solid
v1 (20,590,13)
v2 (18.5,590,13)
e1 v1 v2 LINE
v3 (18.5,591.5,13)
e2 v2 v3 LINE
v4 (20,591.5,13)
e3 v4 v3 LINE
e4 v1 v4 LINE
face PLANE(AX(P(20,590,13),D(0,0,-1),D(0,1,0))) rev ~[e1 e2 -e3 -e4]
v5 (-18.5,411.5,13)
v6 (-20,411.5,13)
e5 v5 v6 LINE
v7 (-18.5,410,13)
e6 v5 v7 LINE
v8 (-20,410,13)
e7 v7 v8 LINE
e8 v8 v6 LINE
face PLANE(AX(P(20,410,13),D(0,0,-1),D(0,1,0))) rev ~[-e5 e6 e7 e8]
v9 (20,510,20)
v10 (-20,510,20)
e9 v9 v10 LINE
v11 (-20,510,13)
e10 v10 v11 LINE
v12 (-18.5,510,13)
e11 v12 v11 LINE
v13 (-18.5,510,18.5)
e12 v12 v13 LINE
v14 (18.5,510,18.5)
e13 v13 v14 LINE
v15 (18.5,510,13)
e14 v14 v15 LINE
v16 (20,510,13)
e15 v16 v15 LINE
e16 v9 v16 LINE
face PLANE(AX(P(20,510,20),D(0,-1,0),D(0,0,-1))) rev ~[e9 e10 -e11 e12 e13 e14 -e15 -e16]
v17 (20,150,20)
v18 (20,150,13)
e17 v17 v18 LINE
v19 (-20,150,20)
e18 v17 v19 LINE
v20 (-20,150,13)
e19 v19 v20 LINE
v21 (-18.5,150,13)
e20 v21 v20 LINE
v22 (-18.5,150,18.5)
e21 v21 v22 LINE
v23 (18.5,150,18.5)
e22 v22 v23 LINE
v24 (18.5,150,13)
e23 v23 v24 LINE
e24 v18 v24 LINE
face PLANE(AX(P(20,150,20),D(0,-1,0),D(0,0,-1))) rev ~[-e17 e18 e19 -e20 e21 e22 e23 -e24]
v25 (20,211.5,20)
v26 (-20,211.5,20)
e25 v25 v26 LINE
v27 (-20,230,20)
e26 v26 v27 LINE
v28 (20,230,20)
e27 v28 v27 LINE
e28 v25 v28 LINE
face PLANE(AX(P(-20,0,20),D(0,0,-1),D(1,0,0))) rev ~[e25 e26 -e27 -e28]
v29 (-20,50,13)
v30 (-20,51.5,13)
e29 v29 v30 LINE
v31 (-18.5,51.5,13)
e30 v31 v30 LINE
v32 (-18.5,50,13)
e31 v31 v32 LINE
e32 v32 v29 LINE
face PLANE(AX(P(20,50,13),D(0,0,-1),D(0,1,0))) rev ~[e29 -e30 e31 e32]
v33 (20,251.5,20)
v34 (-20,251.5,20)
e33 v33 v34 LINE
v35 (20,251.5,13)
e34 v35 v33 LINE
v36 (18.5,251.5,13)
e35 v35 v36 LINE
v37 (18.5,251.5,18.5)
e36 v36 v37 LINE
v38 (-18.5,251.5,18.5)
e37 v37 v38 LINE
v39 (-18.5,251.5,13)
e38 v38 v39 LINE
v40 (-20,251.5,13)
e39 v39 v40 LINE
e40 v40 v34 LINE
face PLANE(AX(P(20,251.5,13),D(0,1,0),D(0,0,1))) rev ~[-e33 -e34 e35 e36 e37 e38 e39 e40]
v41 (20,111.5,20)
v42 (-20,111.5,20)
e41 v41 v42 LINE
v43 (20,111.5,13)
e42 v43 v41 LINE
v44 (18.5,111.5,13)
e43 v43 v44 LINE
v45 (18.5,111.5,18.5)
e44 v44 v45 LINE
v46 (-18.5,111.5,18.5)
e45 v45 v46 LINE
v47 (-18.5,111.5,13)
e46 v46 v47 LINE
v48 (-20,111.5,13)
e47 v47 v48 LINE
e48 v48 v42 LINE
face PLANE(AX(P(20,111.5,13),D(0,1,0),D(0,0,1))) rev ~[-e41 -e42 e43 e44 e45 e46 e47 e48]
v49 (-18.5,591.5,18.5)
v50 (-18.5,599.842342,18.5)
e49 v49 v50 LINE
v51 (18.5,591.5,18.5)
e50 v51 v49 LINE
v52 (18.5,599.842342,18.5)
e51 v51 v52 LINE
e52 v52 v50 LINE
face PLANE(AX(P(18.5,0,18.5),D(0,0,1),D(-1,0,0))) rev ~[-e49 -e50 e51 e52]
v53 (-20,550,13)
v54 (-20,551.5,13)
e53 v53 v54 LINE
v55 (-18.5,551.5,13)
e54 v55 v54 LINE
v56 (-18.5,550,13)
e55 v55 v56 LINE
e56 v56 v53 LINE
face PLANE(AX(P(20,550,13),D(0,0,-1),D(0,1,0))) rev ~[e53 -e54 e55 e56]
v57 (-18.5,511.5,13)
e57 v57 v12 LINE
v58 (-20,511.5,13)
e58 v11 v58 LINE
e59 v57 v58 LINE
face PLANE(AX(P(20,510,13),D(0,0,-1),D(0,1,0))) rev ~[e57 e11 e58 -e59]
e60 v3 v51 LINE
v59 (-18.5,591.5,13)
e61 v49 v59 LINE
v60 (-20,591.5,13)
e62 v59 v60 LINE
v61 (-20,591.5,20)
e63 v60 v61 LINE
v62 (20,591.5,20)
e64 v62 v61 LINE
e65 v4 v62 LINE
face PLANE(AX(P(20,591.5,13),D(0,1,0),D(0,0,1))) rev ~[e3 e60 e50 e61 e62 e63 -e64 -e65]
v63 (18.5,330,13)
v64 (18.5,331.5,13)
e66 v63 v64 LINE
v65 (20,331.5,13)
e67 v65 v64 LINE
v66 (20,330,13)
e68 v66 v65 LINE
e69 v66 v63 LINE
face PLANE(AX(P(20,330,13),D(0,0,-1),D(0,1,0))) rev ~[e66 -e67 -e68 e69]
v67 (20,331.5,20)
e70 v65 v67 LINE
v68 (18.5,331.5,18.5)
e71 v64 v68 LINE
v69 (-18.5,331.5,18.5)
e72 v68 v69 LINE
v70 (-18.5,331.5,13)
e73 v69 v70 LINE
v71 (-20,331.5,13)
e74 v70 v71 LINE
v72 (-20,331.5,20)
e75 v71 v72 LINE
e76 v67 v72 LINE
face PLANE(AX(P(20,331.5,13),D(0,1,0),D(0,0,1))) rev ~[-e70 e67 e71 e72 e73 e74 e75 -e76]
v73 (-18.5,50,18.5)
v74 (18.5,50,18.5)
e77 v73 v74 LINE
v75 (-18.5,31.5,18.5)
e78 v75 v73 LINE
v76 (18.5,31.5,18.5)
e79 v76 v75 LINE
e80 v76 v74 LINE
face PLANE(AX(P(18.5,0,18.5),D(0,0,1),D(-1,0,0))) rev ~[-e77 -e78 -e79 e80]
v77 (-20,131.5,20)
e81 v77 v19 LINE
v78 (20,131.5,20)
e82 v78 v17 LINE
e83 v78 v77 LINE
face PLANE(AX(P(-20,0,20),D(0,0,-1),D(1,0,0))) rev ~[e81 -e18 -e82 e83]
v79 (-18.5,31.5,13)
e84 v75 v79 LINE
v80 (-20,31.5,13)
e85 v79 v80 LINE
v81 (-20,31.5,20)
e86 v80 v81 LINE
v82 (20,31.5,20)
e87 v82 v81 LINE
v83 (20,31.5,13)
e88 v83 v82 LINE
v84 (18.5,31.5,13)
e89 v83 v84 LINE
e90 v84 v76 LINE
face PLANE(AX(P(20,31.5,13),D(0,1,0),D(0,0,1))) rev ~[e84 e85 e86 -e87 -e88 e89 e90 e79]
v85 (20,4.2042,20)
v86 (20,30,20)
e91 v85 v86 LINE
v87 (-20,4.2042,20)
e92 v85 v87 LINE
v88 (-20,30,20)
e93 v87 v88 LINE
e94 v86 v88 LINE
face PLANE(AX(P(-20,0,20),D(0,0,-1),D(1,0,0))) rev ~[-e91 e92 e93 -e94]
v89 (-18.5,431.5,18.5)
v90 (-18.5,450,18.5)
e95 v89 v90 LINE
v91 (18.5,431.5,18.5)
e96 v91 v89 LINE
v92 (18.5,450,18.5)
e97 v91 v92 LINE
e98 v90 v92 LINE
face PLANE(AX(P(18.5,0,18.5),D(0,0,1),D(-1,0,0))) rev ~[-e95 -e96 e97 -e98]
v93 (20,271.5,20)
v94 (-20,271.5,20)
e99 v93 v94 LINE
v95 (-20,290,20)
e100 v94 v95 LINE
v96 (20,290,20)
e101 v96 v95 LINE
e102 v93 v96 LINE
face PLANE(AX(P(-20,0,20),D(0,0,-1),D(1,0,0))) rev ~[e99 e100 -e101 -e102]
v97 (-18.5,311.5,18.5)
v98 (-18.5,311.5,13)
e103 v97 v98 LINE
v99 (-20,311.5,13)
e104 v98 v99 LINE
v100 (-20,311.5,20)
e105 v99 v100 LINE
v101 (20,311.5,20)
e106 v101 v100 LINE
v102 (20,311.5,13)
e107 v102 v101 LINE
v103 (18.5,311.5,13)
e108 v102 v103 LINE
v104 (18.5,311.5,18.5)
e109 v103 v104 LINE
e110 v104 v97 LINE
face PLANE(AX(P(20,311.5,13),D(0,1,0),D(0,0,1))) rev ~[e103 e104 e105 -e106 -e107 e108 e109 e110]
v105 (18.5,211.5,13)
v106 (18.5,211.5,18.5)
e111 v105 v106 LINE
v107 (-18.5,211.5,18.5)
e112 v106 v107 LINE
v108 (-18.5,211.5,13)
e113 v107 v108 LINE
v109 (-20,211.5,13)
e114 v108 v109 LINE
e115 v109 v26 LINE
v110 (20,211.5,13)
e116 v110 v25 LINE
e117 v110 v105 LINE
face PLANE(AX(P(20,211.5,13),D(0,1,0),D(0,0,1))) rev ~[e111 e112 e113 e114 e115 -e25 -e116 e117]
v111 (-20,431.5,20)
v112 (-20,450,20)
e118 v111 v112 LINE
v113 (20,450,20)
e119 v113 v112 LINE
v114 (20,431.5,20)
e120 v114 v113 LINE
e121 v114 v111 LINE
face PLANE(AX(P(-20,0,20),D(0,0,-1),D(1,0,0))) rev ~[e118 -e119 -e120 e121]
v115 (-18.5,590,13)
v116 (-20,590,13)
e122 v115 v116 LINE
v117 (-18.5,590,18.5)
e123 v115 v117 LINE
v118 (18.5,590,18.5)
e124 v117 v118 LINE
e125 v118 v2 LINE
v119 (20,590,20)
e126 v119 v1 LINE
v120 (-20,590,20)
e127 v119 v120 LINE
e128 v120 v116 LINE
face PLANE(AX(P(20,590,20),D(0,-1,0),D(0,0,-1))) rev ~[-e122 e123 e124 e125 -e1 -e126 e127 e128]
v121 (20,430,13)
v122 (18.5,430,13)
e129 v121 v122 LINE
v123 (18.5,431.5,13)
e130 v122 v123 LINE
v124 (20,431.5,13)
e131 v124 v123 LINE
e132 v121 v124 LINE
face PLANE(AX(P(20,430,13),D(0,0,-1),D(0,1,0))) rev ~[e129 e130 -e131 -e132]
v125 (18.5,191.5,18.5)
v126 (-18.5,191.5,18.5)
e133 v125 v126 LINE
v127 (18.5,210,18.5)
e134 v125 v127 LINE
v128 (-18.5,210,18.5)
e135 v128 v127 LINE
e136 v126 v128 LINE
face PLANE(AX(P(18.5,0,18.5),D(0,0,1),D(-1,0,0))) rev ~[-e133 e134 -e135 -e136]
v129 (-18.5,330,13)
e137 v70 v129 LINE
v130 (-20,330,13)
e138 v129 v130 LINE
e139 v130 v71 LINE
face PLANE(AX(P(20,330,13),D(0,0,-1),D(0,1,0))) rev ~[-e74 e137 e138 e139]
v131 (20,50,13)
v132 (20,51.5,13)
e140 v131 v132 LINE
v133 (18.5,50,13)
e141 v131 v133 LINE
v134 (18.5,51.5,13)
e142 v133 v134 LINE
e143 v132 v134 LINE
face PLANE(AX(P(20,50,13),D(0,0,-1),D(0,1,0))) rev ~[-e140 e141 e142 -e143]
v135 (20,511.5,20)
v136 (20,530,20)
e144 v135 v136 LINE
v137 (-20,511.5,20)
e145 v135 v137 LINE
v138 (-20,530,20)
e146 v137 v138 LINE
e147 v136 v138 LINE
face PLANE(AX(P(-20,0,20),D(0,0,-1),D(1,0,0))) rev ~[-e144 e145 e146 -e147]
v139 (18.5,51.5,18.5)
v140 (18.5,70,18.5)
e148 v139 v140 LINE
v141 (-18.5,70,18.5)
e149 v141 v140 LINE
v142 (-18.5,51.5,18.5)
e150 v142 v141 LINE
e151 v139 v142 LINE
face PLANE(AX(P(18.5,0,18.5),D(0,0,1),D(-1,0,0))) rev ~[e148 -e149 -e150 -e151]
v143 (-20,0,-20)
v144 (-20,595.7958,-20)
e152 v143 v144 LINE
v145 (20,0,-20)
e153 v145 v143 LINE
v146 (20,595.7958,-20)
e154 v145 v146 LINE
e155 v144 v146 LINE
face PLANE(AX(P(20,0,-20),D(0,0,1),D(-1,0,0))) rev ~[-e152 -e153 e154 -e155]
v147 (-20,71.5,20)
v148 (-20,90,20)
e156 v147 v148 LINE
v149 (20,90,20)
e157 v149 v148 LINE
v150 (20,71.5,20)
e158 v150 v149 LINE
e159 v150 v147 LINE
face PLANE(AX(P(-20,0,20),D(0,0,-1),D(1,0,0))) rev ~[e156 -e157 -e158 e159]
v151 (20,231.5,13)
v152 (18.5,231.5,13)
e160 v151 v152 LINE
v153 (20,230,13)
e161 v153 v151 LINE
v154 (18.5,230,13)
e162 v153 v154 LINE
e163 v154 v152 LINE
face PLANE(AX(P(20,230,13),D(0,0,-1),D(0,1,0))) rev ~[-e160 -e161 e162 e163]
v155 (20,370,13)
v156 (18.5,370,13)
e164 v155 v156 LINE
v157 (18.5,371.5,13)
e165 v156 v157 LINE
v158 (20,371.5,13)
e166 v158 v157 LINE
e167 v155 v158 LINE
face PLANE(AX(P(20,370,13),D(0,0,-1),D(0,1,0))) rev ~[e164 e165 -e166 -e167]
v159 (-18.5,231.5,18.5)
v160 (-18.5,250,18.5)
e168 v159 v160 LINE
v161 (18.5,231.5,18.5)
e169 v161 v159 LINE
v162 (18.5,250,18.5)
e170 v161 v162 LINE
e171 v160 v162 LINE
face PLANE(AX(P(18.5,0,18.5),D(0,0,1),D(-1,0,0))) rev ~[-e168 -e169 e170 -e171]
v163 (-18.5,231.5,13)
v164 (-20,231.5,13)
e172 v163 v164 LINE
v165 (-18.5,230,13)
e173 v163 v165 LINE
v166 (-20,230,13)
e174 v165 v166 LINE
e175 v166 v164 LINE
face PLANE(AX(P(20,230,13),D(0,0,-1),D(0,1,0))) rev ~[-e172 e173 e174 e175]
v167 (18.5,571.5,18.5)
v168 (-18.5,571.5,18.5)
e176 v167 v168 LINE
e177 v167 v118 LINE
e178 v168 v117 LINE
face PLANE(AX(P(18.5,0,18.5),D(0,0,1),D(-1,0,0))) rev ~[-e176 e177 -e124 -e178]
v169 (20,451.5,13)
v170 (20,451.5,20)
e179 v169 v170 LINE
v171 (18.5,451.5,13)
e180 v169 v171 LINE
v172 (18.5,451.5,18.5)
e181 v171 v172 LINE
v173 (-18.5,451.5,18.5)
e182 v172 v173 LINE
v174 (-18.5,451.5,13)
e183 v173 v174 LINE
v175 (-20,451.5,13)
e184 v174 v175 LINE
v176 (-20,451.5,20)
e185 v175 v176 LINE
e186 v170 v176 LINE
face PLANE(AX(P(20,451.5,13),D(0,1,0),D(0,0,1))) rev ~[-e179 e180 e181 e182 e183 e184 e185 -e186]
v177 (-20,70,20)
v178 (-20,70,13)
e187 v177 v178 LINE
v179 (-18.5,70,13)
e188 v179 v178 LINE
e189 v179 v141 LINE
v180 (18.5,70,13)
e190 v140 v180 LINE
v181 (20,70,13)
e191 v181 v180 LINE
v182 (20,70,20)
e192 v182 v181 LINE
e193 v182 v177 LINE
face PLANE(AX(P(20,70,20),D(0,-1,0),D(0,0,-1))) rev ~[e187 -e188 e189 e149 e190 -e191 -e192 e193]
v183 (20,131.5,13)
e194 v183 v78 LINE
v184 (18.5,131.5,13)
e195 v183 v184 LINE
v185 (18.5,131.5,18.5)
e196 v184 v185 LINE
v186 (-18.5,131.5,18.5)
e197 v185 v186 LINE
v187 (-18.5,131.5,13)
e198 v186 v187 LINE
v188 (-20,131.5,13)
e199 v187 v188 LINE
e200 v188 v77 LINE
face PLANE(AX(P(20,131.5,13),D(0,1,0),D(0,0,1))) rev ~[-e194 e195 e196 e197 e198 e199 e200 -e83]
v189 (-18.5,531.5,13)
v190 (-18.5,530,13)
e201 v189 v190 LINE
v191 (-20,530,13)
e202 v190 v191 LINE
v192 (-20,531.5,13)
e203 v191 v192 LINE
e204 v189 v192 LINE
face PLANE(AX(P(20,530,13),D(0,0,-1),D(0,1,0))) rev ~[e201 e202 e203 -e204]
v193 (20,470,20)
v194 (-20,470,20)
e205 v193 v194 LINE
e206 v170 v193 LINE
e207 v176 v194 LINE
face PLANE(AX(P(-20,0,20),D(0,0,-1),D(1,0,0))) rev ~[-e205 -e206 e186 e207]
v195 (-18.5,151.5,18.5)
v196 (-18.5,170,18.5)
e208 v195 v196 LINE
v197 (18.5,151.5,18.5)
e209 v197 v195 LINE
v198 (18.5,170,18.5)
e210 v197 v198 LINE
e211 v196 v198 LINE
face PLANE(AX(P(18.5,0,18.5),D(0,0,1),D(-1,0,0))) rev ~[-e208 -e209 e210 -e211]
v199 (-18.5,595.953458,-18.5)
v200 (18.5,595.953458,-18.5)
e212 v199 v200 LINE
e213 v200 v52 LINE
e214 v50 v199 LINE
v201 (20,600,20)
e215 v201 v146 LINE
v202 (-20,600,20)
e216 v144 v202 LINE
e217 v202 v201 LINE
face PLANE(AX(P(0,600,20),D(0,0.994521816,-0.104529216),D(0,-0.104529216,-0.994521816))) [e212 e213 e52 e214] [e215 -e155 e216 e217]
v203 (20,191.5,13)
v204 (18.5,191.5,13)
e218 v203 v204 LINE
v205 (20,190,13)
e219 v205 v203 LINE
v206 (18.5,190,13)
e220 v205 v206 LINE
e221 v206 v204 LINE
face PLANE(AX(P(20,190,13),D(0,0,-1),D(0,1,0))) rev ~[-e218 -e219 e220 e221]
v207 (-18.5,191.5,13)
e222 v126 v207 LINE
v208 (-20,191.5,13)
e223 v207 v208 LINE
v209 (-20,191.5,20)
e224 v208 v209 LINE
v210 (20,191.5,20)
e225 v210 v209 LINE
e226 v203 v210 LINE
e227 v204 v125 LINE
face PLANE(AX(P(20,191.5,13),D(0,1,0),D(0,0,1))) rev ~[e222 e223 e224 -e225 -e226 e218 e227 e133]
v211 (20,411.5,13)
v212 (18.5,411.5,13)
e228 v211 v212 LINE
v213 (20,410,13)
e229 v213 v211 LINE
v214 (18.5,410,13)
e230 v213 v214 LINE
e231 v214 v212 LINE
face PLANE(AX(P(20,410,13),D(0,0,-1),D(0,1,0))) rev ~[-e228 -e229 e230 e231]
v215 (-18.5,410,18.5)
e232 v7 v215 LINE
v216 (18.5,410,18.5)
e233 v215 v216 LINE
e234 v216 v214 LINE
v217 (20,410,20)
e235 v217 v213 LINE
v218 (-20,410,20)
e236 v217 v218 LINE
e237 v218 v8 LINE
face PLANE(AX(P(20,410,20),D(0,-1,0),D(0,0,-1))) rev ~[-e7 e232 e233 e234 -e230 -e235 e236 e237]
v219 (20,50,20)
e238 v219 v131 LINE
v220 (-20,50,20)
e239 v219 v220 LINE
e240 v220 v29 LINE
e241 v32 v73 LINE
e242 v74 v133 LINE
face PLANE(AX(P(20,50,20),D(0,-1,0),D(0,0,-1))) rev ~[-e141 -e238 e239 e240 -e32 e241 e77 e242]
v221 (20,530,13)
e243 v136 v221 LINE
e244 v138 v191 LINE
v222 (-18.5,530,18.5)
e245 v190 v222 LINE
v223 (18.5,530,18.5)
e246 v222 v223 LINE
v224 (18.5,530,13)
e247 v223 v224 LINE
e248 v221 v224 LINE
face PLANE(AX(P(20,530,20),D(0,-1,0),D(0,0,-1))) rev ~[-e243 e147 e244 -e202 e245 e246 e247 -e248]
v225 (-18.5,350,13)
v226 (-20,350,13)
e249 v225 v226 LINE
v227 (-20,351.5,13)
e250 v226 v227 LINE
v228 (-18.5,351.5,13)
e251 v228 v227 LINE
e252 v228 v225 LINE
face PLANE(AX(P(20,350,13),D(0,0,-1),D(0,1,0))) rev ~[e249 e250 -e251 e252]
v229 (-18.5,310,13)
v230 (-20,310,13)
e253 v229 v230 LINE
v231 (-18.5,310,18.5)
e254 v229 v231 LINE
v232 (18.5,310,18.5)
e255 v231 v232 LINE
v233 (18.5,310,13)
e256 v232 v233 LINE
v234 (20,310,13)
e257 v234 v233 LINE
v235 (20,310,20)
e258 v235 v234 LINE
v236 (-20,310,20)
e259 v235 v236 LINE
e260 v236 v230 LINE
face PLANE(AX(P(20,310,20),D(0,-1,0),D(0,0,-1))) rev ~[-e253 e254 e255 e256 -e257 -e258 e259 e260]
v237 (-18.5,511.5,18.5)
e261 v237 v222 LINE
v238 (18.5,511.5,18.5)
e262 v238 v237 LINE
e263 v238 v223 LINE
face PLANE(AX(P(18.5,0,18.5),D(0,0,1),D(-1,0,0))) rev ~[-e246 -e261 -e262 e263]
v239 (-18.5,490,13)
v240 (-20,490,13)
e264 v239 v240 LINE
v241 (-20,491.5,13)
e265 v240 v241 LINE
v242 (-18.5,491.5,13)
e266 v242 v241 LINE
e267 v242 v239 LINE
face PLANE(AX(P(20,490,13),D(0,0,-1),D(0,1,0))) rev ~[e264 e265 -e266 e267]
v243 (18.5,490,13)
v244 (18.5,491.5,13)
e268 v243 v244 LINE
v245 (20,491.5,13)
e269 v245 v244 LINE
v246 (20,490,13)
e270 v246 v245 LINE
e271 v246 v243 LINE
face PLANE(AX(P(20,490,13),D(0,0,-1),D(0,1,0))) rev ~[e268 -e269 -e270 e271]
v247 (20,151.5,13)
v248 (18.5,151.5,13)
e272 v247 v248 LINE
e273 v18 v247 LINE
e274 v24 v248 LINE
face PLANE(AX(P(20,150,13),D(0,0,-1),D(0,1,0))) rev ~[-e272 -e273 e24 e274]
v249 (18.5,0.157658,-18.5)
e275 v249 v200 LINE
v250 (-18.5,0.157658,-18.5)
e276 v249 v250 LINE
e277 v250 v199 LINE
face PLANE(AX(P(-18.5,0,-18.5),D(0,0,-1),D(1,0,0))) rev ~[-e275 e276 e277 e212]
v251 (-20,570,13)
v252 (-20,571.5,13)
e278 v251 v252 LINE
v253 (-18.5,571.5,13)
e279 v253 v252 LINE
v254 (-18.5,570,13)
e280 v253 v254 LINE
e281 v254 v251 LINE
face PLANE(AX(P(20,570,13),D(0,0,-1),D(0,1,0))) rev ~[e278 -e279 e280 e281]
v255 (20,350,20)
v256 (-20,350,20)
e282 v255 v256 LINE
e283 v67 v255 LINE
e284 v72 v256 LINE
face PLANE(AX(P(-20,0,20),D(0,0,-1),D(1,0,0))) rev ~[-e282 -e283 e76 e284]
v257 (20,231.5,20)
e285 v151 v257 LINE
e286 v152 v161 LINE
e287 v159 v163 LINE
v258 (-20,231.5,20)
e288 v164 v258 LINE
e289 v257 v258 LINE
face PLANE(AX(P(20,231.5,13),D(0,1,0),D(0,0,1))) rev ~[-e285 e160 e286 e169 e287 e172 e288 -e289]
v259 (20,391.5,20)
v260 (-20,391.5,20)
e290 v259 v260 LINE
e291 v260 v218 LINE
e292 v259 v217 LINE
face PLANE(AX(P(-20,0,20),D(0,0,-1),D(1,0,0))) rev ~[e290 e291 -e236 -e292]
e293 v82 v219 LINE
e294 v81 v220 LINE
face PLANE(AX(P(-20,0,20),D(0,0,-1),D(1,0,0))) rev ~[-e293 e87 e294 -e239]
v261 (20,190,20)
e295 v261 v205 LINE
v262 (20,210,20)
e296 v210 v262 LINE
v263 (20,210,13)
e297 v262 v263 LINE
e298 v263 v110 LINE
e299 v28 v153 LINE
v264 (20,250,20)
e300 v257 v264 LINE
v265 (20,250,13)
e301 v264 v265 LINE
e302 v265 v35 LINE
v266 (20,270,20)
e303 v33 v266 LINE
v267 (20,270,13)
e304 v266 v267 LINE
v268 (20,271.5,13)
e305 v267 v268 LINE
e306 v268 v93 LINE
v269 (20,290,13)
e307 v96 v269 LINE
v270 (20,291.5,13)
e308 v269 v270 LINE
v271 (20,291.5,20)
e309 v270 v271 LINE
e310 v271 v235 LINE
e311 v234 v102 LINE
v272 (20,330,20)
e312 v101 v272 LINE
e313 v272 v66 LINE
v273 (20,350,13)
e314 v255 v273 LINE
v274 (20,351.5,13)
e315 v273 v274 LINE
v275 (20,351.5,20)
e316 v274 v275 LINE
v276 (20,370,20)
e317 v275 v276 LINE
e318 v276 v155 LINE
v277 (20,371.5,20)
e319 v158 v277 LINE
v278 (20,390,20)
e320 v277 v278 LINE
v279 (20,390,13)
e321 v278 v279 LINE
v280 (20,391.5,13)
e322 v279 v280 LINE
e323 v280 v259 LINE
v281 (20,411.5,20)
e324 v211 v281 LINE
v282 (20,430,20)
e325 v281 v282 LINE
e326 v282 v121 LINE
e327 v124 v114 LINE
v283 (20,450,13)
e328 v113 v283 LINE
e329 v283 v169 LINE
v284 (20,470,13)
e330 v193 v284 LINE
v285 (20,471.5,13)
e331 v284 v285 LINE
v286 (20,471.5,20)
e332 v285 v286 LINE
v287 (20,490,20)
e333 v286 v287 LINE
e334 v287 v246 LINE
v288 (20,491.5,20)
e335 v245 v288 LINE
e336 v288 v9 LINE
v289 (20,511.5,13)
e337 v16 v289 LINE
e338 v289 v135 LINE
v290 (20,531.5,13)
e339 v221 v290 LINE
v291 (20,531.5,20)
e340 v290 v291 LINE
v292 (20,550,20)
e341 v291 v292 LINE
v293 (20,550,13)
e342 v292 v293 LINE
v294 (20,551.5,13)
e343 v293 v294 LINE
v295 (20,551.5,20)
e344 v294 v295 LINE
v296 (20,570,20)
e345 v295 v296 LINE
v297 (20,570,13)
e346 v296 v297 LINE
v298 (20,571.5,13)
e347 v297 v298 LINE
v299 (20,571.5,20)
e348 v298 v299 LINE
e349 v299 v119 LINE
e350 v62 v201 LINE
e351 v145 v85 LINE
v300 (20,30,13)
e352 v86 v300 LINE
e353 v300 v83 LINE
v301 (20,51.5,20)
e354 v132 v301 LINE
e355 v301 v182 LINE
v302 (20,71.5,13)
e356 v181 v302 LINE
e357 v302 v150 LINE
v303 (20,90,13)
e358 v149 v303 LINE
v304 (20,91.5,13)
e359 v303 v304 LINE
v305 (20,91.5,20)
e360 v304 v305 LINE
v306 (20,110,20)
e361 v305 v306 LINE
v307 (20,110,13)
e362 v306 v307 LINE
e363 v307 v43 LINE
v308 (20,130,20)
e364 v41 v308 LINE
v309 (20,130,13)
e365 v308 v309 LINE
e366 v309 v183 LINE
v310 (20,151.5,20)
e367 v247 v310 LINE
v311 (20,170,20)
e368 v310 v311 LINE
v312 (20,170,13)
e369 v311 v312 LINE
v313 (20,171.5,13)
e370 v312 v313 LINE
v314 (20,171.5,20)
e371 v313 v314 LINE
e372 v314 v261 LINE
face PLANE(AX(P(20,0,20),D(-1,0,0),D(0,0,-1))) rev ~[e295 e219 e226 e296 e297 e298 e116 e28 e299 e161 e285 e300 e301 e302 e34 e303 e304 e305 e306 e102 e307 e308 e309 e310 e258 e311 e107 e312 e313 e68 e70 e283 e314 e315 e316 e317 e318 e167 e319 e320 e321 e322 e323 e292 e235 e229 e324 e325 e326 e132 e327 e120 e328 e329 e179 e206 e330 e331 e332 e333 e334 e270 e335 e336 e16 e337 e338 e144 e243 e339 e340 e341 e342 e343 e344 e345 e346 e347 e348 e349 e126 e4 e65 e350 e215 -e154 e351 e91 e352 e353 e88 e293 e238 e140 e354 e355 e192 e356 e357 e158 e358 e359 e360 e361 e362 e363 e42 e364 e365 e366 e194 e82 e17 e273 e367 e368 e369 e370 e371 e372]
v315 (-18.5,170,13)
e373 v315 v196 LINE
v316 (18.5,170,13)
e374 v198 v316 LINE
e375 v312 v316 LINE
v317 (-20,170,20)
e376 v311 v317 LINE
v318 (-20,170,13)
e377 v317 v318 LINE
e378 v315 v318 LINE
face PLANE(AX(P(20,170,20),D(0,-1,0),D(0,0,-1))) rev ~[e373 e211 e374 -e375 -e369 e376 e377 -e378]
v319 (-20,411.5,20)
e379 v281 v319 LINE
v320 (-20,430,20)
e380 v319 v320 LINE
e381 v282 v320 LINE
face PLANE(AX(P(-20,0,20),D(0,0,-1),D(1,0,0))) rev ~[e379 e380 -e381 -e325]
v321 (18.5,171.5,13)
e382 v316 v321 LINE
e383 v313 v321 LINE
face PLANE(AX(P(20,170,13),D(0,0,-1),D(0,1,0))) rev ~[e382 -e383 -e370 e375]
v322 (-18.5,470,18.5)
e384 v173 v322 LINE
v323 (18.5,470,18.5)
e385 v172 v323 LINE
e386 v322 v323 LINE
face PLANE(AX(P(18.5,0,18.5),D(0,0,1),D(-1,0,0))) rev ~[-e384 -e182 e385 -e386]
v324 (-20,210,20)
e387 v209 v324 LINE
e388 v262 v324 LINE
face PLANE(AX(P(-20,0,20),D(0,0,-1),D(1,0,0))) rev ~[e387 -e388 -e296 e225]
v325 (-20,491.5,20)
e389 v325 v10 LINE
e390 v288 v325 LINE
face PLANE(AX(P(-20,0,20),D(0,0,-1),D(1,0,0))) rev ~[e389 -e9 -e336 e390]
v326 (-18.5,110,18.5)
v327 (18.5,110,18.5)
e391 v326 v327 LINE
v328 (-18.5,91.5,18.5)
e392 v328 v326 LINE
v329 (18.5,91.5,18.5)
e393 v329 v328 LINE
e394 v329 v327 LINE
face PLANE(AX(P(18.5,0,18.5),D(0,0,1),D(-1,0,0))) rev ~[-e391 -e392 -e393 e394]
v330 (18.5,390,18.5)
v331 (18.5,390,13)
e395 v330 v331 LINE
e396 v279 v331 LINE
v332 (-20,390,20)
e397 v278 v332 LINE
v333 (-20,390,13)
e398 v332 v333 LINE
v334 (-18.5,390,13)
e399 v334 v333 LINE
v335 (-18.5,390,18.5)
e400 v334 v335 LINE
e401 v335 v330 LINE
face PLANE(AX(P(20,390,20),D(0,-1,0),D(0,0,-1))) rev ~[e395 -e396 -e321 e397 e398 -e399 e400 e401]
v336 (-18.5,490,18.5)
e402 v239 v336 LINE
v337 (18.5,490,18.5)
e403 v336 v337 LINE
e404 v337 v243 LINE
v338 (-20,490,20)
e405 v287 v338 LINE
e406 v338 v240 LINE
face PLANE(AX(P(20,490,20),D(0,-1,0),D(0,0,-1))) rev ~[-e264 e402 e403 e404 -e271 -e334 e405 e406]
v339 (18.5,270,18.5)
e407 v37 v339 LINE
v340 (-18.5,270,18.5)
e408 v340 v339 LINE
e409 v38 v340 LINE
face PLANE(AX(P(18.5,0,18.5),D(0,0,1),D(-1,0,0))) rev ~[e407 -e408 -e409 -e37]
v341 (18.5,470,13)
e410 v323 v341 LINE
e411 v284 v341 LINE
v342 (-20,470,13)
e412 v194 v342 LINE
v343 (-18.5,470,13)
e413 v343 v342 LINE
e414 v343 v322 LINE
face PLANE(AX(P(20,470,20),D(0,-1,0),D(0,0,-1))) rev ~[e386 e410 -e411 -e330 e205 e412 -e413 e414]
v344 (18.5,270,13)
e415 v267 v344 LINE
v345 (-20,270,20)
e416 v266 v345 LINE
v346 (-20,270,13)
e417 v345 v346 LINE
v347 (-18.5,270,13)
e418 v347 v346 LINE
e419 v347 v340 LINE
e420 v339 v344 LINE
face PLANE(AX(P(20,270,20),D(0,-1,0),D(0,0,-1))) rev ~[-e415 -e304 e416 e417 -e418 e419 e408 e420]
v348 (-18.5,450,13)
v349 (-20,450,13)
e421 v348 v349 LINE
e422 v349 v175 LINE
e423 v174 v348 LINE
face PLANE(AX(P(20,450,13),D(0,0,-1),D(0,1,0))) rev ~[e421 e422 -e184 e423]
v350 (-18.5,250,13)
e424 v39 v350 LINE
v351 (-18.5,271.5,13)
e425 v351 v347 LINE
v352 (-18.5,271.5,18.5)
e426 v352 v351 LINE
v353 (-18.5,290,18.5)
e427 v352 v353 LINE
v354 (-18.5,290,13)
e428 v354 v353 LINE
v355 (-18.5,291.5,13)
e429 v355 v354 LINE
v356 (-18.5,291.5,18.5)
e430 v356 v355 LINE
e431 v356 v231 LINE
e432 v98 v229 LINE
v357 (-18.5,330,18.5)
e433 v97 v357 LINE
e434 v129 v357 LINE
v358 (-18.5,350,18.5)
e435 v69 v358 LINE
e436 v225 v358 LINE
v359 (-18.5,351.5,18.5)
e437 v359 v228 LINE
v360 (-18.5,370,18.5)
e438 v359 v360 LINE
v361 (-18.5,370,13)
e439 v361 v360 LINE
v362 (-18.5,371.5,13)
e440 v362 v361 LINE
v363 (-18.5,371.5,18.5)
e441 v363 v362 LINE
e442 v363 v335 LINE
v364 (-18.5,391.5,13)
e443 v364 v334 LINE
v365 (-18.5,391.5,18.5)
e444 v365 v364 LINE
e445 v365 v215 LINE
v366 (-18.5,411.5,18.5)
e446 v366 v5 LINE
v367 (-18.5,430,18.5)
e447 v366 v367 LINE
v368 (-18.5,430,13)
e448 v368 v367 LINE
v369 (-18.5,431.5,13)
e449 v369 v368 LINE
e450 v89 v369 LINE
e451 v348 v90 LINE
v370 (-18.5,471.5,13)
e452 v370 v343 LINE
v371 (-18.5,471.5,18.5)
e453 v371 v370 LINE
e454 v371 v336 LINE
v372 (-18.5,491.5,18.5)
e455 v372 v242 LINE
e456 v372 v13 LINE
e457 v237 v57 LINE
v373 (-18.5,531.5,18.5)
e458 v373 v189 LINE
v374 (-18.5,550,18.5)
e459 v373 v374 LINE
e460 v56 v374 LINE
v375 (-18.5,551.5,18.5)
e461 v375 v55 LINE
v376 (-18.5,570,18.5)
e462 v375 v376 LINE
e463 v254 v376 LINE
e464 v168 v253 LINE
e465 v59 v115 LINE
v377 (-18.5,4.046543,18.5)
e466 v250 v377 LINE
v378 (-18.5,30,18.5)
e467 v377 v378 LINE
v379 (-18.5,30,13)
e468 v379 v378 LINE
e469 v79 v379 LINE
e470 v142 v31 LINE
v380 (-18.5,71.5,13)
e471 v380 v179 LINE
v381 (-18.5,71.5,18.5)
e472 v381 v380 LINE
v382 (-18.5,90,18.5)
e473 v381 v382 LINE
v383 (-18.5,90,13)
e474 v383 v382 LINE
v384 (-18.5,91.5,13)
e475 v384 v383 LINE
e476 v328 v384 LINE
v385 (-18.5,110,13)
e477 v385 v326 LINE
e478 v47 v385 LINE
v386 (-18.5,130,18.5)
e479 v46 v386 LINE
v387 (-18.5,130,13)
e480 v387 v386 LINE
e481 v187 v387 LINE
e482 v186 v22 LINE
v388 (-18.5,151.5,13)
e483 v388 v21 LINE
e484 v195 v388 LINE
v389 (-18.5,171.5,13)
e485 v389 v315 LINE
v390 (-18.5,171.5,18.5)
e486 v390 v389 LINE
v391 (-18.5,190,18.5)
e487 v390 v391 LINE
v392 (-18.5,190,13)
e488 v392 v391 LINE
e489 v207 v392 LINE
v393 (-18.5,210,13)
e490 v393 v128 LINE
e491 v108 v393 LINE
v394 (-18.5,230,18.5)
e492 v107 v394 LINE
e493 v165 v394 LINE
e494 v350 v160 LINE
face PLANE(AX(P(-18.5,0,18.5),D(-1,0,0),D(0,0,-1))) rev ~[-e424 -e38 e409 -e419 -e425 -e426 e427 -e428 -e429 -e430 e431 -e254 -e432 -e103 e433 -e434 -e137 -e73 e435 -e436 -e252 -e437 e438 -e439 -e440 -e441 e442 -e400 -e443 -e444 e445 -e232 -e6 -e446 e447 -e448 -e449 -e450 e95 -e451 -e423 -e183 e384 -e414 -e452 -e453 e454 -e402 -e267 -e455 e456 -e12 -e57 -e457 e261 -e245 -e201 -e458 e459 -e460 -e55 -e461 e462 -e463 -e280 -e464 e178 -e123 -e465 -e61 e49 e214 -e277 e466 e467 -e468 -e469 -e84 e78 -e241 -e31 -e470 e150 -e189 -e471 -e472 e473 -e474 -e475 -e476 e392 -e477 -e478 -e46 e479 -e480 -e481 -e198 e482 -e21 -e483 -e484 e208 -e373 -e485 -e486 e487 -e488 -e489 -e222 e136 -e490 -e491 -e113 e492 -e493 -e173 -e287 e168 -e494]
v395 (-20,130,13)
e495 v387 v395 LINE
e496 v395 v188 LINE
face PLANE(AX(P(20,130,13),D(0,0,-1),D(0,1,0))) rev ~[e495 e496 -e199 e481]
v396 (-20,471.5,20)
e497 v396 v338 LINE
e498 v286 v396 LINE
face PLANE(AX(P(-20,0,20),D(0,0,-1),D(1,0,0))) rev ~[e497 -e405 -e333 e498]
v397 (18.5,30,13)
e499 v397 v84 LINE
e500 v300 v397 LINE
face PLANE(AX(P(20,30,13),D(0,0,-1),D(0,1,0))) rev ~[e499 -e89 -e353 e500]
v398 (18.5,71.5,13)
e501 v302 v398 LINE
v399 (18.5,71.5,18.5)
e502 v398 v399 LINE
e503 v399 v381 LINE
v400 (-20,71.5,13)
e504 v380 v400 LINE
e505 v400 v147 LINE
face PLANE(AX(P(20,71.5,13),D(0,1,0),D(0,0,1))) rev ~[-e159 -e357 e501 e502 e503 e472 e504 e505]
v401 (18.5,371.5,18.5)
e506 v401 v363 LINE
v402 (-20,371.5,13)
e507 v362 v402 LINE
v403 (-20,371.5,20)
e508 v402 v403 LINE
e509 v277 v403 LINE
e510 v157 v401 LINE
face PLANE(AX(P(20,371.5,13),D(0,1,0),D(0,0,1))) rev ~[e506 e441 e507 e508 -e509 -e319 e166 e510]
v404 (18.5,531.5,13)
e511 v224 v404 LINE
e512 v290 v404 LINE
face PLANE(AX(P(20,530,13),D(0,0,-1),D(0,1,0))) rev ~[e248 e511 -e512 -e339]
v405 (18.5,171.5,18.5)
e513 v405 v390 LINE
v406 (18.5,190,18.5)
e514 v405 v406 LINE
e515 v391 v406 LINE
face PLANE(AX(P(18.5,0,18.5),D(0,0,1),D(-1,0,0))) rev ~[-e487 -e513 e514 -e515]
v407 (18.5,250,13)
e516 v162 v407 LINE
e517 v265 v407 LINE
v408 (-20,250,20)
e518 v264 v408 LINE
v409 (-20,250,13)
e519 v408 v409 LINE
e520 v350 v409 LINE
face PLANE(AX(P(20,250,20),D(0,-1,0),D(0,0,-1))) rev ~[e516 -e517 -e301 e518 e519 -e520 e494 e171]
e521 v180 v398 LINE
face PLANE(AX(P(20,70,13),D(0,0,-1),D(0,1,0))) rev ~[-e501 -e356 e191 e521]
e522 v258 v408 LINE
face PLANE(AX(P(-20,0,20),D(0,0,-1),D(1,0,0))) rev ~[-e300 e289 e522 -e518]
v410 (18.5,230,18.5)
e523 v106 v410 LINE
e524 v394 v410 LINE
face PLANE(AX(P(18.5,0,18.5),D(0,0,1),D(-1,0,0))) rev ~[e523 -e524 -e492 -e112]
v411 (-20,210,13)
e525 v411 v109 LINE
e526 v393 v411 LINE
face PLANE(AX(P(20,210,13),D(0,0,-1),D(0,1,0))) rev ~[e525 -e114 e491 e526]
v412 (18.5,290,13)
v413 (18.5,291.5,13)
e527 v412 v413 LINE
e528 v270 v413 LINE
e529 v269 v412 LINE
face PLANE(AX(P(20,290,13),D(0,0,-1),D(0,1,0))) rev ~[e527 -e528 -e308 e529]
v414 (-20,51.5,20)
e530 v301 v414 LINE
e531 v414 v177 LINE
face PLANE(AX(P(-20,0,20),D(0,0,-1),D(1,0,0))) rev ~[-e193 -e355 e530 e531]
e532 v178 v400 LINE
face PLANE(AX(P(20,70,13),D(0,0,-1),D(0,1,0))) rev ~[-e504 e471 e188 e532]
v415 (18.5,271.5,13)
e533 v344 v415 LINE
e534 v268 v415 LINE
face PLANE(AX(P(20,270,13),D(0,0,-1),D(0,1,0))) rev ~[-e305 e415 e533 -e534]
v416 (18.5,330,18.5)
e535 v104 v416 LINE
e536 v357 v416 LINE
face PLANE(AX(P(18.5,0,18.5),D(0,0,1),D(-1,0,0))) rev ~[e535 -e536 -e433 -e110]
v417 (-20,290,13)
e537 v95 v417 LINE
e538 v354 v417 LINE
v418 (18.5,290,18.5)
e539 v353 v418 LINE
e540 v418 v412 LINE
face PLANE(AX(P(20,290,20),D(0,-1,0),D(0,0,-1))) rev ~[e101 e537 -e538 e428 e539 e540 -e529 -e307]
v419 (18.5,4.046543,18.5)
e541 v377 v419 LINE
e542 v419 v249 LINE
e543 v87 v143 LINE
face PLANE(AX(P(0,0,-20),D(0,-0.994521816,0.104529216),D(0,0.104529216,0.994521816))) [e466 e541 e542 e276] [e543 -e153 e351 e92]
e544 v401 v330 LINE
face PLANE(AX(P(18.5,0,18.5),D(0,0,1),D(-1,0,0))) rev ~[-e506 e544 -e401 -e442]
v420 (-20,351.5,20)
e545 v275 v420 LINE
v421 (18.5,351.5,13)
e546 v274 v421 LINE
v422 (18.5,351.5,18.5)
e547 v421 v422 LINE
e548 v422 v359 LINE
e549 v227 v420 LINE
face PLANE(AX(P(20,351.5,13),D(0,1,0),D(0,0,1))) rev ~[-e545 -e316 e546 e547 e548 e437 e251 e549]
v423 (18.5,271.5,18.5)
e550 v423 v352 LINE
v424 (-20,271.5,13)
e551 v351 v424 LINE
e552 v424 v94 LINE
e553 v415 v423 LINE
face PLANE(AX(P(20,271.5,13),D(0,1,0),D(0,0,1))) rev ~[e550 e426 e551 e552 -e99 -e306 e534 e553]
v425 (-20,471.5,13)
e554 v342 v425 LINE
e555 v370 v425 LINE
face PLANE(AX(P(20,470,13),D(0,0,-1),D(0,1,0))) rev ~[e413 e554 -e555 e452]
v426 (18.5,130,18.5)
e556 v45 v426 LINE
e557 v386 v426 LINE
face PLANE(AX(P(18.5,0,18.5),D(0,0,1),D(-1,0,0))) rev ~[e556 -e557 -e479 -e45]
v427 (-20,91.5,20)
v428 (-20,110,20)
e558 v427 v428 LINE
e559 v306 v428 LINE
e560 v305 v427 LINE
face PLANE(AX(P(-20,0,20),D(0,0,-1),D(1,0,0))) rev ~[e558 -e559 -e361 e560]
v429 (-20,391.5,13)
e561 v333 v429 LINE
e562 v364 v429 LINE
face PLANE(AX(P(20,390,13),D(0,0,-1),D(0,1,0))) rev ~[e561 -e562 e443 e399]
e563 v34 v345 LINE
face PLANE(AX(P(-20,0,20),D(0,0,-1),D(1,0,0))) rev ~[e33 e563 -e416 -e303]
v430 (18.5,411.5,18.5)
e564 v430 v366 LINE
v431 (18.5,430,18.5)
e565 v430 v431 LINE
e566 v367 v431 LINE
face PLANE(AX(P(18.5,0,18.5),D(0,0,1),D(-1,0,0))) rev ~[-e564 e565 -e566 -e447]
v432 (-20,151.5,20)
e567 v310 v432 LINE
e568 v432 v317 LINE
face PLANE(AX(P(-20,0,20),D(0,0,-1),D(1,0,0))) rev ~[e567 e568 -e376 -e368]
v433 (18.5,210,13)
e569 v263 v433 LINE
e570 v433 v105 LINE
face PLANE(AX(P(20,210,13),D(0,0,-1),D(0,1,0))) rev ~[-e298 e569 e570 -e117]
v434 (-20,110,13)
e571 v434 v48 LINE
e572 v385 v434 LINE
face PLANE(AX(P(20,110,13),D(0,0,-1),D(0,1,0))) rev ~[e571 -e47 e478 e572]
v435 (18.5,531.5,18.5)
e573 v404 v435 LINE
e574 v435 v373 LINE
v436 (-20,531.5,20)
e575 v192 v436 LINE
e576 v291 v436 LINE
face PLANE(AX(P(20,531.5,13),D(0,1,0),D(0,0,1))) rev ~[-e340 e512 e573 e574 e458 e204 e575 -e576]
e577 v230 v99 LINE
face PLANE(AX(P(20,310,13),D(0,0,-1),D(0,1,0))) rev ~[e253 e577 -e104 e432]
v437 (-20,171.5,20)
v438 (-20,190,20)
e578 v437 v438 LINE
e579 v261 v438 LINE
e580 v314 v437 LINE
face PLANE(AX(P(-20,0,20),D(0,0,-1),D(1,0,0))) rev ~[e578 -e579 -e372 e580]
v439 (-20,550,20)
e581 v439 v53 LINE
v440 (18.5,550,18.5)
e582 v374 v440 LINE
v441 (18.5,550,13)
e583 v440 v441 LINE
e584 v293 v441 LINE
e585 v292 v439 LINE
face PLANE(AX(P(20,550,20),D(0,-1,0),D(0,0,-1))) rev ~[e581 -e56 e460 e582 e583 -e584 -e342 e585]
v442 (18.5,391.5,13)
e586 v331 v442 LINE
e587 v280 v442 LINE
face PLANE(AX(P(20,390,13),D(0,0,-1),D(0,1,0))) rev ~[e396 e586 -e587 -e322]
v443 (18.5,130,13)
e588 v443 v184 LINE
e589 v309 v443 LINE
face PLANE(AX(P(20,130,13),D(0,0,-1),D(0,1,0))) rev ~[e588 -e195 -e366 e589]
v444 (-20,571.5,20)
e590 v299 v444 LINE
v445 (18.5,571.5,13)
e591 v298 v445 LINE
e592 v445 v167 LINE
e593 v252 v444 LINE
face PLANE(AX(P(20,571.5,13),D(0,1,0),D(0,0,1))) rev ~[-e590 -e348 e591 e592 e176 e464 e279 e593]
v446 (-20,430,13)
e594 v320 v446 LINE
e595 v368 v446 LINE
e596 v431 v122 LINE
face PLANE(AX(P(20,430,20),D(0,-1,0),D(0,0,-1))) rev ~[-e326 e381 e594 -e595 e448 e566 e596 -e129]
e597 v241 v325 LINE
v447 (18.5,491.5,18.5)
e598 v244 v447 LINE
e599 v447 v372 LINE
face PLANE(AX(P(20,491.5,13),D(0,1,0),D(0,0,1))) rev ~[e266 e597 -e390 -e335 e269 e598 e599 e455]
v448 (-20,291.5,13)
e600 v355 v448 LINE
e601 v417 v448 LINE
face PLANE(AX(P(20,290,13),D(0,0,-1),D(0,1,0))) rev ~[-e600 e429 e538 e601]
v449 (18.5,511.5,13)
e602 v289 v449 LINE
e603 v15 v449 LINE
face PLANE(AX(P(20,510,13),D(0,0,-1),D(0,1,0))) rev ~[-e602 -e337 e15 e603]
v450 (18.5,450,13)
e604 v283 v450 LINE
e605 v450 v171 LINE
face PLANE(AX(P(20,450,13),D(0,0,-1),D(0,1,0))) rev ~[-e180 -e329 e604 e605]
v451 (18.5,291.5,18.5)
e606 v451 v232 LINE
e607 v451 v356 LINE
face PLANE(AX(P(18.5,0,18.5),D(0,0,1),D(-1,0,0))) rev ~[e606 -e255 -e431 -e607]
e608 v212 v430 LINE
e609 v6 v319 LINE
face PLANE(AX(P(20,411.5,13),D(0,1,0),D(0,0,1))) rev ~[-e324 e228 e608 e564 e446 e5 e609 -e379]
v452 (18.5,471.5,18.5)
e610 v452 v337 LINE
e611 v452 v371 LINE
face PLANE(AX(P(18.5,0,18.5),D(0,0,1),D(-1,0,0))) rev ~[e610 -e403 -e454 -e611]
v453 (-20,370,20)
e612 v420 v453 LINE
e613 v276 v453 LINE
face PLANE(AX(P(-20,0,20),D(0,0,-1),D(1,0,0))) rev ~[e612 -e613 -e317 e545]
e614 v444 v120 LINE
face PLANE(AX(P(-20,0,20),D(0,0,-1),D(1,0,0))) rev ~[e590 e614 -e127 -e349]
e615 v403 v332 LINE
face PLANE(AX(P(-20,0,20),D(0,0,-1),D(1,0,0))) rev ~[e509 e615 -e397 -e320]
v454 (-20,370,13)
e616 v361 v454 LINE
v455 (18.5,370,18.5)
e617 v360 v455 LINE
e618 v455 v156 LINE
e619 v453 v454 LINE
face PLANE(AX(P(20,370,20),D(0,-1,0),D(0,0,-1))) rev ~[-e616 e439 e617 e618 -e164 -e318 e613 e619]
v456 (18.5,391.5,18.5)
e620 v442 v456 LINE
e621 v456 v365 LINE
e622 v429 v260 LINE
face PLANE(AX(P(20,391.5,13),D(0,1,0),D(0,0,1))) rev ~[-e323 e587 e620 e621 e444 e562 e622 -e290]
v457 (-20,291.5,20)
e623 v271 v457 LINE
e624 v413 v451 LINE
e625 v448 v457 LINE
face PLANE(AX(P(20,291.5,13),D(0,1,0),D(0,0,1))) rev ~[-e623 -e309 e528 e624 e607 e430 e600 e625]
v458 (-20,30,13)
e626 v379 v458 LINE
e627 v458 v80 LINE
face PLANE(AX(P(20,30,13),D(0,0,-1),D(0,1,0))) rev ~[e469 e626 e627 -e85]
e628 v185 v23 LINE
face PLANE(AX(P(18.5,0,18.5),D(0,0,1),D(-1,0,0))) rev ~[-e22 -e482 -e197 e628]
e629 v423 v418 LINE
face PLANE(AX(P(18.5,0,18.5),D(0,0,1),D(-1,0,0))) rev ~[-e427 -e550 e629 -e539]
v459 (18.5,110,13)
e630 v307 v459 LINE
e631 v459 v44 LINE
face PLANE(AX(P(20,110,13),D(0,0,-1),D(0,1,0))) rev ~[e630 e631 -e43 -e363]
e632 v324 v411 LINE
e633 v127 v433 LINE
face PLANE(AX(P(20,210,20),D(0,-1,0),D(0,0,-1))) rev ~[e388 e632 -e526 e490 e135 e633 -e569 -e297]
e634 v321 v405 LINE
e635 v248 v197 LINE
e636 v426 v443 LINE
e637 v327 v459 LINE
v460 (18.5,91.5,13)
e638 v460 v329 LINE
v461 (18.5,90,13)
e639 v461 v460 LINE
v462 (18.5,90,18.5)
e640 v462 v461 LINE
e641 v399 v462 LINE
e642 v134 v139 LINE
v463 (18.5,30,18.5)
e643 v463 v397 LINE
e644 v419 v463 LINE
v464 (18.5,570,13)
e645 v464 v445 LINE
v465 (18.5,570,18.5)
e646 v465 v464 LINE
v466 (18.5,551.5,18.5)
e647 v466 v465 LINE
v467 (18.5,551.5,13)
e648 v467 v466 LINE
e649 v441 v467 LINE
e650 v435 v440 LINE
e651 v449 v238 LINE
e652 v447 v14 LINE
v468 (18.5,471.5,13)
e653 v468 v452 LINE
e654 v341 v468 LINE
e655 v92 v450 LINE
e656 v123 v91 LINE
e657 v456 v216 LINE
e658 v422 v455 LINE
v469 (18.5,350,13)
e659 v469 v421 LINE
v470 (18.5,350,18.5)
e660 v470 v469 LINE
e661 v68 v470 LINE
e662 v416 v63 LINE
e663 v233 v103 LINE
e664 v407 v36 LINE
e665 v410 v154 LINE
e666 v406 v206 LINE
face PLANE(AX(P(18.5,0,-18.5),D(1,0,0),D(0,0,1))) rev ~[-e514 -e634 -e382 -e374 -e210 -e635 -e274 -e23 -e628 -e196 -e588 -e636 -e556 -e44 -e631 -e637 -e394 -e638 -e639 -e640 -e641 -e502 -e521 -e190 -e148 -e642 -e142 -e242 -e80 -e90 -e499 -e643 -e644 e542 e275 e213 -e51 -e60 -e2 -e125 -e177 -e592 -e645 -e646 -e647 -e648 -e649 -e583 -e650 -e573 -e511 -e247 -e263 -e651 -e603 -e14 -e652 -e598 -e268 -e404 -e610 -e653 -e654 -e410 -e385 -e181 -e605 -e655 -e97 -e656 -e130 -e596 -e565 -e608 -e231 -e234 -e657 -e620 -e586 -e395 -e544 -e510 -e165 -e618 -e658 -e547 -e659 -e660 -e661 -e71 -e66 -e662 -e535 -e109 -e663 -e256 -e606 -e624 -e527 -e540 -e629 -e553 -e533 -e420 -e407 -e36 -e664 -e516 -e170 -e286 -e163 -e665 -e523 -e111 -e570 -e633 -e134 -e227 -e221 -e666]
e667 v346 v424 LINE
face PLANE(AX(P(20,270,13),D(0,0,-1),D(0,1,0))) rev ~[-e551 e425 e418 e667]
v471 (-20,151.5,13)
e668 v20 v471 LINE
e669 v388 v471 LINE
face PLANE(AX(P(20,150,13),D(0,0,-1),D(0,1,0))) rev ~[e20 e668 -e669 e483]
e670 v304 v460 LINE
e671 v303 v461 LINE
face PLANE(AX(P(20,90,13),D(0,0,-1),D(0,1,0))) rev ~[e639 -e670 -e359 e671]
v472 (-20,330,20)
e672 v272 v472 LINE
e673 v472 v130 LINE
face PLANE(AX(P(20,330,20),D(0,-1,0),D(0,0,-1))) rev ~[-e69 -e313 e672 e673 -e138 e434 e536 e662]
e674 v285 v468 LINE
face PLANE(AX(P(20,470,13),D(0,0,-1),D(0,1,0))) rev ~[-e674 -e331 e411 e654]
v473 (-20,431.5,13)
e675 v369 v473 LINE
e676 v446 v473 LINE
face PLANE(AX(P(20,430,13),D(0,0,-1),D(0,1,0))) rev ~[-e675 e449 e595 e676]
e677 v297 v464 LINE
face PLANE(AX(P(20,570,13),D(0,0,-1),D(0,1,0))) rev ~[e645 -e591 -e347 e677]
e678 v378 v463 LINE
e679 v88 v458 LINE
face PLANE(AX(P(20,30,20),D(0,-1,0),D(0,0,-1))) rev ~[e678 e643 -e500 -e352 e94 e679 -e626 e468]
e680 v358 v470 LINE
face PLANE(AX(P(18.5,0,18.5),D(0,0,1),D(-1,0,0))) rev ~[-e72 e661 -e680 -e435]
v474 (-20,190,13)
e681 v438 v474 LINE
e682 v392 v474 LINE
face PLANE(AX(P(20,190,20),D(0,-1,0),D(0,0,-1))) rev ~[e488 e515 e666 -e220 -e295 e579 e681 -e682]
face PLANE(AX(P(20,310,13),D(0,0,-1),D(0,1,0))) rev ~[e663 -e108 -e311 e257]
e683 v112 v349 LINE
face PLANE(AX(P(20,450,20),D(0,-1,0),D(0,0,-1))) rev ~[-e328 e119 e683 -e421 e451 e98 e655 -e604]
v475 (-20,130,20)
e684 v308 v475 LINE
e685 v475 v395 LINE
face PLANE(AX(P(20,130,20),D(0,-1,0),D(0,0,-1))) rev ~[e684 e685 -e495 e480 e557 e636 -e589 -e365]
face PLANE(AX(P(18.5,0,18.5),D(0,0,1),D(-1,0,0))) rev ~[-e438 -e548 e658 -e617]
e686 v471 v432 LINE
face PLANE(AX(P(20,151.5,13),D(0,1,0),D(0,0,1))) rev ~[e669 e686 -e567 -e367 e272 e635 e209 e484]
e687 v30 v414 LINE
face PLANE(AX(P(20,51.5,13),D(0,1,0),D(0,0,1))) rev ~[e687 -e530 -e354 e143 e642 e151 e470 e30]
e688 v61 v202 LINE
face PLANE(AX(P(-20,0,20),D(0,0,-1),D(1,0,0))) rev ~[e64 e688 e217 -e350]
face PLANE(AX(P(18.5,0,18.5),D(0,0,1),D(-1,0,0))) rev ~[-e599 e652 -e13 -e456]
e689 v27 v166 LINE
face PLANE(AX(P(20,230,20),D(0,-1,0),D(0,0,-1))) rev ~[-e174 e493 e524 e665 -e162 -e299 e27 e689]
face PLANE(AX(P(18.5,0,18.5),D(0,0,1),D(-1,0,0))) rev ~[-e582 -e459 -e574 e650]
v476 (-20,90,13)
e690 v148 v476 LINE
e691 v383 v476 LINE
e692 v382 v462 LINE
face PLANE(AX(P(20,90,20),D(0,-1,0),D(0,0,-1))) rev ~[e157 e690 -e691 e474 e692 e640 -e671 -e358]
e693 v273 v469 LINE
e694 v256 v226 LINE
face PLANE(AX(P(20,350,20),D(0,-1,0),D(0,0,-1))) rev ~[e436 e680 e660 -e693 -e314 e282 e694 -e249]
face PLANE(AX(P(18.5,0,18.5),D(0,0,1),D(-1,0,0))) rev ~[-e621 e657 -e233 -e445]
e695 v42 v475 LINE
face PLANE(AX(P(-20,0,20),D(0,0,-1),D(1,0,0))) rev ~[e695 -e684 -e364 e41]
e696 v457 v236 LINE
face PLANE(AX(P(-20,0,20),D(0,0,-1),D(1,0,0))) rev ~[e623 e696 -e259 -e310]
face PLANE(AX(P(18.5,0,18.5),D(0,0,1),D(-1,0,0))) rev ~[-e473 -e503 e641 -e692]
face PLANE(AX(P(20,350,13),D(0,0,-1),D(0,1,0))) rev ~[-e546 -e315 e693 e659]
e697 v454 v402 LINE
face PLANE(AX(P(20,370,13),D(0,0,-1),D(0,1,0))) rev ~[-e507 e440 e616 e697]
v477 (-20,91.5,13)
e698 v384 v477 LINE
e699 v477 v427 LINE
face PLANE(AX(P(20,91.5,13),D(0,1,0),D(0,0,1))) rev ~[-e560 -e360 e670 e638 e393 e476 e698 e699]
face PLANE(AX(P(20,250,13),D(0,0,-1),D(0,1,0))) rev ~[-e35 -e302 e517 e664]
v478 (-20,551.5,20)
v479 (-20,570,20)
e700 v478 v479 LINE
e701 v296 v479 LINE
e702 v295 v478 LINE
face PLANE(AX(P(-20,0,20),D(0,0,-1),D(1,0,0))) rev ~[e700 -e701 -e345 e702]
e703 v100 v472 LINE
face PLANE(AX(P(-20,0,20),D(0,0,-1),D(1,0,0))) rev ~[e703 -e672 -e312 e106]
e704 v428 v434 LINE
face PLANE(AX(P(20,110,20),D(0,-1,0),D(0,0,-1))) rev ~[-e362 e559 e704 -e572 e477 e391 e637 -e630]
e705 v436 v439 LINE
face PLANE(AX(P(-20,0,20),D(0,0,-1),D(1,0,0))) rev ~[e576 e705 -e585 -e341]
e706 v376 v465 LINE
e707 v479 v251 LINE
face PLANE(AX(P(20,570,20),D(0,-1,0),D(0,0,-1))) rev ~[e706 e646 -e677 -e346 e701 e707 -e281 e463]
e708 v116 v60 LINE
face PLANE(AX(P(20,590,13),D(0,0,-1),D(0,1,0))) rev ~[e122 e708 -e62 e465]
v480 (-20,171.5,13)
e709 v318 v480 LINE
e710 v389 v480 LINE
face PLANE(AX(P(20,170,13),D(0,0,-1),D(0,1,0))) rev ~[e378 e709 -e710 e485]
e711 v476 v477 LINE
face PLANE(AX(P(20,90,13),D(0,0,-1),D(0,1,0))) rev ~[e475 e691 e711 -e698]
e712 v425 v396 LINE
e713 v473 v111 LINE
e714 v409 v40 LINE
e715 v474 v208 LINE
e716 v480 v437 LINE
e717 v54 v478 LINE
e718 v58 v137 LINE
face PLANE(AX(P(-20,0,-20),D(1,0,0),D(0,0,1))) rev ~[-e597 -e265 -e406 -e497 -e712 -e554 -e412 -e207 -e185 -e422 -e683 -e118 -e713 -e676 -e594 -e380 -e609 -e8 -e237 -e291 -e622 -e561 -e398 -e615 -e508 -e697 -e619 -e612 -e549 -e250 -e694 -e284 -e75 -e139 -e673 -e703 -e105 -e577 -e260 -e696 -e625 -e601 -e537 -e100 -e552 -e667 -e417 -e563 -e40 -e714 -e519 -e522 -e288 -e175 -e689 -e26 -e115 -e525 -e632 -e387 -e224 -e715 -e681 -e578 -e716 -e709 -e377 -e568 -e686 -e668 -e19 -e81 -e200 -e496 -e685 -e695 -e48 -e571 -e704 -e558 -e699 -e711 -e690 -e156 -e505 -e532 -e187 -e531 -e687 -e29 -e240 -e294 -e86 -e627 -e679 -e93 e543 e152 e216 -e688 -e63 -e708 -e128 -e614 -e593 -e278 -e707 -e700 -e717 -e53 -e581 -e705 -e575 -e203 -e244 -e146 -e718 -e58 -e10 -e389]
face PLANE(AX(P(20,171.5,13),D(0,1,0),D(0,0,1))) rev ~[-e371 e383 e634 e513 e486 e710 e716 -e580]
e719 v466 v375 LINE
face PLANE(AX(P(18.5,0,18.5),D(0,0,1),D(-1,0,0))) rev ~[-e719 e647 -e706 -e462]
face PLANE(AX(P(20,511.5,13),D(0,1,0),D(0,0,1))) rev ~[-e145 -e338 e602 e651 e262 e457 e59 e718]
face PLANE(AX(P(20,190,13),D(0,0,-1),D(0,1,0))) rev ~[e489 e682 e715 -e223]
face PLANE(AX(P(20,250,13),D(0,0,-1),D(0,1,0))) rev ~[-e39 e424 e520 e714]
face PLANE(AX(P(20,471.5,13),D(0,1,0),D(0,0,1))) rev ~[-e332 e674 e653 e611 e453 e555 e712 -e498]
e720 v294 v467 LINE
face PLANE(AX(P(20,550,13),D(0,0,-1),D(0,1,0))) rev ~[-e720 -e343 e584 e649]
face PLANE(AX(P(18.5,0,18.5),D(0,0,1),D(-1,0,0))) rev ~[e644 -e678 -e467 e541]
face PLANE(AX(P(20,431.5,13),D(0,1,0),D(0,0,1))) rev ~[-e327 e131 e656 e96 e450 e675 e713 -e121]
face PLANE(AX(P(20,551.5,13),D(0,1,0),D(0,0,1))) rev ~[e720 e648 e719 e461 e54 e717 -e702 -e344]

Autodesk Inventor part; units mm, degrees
ref_plane "YZ Plane" through (0, 0, 0) normal (1, 0, 0) x (0, 1, 0)
ref_plane "XZ Plane" through (0, 0, 0) normal (0, 1, 0) x (-1, 0, 0)
ref_plane "XY Plane" through (0, 0, 0) normal (0, 0, 1) x (1, 0, 0)
sketch "Sketch1" plane through (0, 0, 0) normal (0, 1, 0) x (-1, 0, 0)
  line L0 (20, 20) -> (-20, 20)
  line L1 (-20, 20) -> (-20, -20)
  line L2 (-20, -20) -> (20, -20)
  line L3 (20, -20) -> (20, 20)
  line L4 (20, 20) -> (-20, -20) construction
  line L5 (-20, 20) -> (20, -20) construction
  line L6 (-18.5, 18.5) -> (18.5, 18.5)
  line L7 (18.5, 18.5) -> (18.5, -18.5)
  line L8 (18.5, -18.5) -> (-18.5, -18.5)
  line L9 (-18.5, -18.5) -> (-18.5, 18.5)
  point P0 (0, 0)
  dimension "d7" = 40
  dimension "d8" = 40
  dimension "d9" = 1.5
extrude "Extrusion1" add sketch "Sketch1" along normal blind 600
sketch "Sketch2" plane through (20, 0, 20) normal (1, 0, 0) x (0, 0, -1)
  line L0 (0, 0) -> (0, 600) projected
  line L1 (0, 30) -> (7, 30)
  line L2 (7, 30) -> (7, 31.5)
  line L3 (7, 31.5) -> (0, 31.5)
  line L4 (0, 31.5) -> (0, 30)
  point P0 (20, 0)
  point P1 (0, 31.5)
  dimension "d10" = 7
  dimension "d11" = 1.5
  dimension "d17" = 30
extrude "Extrusion2" cut sketch "Sketch2" against normal through all
pattern_linear "Rectangular Pattern1" count 49 spacing 20 along (0, 1, 0) of "Extrusion2"
sketch "Sketch5" plane through (0, 0, 0) normal (1, 0, 0) x (0, 1, 0)
  line L0 (0, 20) -> (0, -20) projected
  line L1 (0, 20) -> (30, 20) projected
  line L2 (0, -20) -> (4.2042, 20)
  line L3 (600, -20) -> (600, 20) projected
  line L4 (0, -20) -> (600, -20) projected
  line L5 (600, 20) -> (595.7958, -20)
  point P0 (0, 0)
  dimension "d18" = 6
extrude "Extrusion3" cut sketch "Sketch5" along normal through all both and the other way through all
equation "\"d1\" = BEAM_2_lenth"
equation "\"d18\" = BEAM_2_angle"
equation "\"BEAM_2_lenth\" = 600"
equation "\"BEAM_2_angle\" = 6deg"
properties part number "MNT-CDF-312 beam 2"
